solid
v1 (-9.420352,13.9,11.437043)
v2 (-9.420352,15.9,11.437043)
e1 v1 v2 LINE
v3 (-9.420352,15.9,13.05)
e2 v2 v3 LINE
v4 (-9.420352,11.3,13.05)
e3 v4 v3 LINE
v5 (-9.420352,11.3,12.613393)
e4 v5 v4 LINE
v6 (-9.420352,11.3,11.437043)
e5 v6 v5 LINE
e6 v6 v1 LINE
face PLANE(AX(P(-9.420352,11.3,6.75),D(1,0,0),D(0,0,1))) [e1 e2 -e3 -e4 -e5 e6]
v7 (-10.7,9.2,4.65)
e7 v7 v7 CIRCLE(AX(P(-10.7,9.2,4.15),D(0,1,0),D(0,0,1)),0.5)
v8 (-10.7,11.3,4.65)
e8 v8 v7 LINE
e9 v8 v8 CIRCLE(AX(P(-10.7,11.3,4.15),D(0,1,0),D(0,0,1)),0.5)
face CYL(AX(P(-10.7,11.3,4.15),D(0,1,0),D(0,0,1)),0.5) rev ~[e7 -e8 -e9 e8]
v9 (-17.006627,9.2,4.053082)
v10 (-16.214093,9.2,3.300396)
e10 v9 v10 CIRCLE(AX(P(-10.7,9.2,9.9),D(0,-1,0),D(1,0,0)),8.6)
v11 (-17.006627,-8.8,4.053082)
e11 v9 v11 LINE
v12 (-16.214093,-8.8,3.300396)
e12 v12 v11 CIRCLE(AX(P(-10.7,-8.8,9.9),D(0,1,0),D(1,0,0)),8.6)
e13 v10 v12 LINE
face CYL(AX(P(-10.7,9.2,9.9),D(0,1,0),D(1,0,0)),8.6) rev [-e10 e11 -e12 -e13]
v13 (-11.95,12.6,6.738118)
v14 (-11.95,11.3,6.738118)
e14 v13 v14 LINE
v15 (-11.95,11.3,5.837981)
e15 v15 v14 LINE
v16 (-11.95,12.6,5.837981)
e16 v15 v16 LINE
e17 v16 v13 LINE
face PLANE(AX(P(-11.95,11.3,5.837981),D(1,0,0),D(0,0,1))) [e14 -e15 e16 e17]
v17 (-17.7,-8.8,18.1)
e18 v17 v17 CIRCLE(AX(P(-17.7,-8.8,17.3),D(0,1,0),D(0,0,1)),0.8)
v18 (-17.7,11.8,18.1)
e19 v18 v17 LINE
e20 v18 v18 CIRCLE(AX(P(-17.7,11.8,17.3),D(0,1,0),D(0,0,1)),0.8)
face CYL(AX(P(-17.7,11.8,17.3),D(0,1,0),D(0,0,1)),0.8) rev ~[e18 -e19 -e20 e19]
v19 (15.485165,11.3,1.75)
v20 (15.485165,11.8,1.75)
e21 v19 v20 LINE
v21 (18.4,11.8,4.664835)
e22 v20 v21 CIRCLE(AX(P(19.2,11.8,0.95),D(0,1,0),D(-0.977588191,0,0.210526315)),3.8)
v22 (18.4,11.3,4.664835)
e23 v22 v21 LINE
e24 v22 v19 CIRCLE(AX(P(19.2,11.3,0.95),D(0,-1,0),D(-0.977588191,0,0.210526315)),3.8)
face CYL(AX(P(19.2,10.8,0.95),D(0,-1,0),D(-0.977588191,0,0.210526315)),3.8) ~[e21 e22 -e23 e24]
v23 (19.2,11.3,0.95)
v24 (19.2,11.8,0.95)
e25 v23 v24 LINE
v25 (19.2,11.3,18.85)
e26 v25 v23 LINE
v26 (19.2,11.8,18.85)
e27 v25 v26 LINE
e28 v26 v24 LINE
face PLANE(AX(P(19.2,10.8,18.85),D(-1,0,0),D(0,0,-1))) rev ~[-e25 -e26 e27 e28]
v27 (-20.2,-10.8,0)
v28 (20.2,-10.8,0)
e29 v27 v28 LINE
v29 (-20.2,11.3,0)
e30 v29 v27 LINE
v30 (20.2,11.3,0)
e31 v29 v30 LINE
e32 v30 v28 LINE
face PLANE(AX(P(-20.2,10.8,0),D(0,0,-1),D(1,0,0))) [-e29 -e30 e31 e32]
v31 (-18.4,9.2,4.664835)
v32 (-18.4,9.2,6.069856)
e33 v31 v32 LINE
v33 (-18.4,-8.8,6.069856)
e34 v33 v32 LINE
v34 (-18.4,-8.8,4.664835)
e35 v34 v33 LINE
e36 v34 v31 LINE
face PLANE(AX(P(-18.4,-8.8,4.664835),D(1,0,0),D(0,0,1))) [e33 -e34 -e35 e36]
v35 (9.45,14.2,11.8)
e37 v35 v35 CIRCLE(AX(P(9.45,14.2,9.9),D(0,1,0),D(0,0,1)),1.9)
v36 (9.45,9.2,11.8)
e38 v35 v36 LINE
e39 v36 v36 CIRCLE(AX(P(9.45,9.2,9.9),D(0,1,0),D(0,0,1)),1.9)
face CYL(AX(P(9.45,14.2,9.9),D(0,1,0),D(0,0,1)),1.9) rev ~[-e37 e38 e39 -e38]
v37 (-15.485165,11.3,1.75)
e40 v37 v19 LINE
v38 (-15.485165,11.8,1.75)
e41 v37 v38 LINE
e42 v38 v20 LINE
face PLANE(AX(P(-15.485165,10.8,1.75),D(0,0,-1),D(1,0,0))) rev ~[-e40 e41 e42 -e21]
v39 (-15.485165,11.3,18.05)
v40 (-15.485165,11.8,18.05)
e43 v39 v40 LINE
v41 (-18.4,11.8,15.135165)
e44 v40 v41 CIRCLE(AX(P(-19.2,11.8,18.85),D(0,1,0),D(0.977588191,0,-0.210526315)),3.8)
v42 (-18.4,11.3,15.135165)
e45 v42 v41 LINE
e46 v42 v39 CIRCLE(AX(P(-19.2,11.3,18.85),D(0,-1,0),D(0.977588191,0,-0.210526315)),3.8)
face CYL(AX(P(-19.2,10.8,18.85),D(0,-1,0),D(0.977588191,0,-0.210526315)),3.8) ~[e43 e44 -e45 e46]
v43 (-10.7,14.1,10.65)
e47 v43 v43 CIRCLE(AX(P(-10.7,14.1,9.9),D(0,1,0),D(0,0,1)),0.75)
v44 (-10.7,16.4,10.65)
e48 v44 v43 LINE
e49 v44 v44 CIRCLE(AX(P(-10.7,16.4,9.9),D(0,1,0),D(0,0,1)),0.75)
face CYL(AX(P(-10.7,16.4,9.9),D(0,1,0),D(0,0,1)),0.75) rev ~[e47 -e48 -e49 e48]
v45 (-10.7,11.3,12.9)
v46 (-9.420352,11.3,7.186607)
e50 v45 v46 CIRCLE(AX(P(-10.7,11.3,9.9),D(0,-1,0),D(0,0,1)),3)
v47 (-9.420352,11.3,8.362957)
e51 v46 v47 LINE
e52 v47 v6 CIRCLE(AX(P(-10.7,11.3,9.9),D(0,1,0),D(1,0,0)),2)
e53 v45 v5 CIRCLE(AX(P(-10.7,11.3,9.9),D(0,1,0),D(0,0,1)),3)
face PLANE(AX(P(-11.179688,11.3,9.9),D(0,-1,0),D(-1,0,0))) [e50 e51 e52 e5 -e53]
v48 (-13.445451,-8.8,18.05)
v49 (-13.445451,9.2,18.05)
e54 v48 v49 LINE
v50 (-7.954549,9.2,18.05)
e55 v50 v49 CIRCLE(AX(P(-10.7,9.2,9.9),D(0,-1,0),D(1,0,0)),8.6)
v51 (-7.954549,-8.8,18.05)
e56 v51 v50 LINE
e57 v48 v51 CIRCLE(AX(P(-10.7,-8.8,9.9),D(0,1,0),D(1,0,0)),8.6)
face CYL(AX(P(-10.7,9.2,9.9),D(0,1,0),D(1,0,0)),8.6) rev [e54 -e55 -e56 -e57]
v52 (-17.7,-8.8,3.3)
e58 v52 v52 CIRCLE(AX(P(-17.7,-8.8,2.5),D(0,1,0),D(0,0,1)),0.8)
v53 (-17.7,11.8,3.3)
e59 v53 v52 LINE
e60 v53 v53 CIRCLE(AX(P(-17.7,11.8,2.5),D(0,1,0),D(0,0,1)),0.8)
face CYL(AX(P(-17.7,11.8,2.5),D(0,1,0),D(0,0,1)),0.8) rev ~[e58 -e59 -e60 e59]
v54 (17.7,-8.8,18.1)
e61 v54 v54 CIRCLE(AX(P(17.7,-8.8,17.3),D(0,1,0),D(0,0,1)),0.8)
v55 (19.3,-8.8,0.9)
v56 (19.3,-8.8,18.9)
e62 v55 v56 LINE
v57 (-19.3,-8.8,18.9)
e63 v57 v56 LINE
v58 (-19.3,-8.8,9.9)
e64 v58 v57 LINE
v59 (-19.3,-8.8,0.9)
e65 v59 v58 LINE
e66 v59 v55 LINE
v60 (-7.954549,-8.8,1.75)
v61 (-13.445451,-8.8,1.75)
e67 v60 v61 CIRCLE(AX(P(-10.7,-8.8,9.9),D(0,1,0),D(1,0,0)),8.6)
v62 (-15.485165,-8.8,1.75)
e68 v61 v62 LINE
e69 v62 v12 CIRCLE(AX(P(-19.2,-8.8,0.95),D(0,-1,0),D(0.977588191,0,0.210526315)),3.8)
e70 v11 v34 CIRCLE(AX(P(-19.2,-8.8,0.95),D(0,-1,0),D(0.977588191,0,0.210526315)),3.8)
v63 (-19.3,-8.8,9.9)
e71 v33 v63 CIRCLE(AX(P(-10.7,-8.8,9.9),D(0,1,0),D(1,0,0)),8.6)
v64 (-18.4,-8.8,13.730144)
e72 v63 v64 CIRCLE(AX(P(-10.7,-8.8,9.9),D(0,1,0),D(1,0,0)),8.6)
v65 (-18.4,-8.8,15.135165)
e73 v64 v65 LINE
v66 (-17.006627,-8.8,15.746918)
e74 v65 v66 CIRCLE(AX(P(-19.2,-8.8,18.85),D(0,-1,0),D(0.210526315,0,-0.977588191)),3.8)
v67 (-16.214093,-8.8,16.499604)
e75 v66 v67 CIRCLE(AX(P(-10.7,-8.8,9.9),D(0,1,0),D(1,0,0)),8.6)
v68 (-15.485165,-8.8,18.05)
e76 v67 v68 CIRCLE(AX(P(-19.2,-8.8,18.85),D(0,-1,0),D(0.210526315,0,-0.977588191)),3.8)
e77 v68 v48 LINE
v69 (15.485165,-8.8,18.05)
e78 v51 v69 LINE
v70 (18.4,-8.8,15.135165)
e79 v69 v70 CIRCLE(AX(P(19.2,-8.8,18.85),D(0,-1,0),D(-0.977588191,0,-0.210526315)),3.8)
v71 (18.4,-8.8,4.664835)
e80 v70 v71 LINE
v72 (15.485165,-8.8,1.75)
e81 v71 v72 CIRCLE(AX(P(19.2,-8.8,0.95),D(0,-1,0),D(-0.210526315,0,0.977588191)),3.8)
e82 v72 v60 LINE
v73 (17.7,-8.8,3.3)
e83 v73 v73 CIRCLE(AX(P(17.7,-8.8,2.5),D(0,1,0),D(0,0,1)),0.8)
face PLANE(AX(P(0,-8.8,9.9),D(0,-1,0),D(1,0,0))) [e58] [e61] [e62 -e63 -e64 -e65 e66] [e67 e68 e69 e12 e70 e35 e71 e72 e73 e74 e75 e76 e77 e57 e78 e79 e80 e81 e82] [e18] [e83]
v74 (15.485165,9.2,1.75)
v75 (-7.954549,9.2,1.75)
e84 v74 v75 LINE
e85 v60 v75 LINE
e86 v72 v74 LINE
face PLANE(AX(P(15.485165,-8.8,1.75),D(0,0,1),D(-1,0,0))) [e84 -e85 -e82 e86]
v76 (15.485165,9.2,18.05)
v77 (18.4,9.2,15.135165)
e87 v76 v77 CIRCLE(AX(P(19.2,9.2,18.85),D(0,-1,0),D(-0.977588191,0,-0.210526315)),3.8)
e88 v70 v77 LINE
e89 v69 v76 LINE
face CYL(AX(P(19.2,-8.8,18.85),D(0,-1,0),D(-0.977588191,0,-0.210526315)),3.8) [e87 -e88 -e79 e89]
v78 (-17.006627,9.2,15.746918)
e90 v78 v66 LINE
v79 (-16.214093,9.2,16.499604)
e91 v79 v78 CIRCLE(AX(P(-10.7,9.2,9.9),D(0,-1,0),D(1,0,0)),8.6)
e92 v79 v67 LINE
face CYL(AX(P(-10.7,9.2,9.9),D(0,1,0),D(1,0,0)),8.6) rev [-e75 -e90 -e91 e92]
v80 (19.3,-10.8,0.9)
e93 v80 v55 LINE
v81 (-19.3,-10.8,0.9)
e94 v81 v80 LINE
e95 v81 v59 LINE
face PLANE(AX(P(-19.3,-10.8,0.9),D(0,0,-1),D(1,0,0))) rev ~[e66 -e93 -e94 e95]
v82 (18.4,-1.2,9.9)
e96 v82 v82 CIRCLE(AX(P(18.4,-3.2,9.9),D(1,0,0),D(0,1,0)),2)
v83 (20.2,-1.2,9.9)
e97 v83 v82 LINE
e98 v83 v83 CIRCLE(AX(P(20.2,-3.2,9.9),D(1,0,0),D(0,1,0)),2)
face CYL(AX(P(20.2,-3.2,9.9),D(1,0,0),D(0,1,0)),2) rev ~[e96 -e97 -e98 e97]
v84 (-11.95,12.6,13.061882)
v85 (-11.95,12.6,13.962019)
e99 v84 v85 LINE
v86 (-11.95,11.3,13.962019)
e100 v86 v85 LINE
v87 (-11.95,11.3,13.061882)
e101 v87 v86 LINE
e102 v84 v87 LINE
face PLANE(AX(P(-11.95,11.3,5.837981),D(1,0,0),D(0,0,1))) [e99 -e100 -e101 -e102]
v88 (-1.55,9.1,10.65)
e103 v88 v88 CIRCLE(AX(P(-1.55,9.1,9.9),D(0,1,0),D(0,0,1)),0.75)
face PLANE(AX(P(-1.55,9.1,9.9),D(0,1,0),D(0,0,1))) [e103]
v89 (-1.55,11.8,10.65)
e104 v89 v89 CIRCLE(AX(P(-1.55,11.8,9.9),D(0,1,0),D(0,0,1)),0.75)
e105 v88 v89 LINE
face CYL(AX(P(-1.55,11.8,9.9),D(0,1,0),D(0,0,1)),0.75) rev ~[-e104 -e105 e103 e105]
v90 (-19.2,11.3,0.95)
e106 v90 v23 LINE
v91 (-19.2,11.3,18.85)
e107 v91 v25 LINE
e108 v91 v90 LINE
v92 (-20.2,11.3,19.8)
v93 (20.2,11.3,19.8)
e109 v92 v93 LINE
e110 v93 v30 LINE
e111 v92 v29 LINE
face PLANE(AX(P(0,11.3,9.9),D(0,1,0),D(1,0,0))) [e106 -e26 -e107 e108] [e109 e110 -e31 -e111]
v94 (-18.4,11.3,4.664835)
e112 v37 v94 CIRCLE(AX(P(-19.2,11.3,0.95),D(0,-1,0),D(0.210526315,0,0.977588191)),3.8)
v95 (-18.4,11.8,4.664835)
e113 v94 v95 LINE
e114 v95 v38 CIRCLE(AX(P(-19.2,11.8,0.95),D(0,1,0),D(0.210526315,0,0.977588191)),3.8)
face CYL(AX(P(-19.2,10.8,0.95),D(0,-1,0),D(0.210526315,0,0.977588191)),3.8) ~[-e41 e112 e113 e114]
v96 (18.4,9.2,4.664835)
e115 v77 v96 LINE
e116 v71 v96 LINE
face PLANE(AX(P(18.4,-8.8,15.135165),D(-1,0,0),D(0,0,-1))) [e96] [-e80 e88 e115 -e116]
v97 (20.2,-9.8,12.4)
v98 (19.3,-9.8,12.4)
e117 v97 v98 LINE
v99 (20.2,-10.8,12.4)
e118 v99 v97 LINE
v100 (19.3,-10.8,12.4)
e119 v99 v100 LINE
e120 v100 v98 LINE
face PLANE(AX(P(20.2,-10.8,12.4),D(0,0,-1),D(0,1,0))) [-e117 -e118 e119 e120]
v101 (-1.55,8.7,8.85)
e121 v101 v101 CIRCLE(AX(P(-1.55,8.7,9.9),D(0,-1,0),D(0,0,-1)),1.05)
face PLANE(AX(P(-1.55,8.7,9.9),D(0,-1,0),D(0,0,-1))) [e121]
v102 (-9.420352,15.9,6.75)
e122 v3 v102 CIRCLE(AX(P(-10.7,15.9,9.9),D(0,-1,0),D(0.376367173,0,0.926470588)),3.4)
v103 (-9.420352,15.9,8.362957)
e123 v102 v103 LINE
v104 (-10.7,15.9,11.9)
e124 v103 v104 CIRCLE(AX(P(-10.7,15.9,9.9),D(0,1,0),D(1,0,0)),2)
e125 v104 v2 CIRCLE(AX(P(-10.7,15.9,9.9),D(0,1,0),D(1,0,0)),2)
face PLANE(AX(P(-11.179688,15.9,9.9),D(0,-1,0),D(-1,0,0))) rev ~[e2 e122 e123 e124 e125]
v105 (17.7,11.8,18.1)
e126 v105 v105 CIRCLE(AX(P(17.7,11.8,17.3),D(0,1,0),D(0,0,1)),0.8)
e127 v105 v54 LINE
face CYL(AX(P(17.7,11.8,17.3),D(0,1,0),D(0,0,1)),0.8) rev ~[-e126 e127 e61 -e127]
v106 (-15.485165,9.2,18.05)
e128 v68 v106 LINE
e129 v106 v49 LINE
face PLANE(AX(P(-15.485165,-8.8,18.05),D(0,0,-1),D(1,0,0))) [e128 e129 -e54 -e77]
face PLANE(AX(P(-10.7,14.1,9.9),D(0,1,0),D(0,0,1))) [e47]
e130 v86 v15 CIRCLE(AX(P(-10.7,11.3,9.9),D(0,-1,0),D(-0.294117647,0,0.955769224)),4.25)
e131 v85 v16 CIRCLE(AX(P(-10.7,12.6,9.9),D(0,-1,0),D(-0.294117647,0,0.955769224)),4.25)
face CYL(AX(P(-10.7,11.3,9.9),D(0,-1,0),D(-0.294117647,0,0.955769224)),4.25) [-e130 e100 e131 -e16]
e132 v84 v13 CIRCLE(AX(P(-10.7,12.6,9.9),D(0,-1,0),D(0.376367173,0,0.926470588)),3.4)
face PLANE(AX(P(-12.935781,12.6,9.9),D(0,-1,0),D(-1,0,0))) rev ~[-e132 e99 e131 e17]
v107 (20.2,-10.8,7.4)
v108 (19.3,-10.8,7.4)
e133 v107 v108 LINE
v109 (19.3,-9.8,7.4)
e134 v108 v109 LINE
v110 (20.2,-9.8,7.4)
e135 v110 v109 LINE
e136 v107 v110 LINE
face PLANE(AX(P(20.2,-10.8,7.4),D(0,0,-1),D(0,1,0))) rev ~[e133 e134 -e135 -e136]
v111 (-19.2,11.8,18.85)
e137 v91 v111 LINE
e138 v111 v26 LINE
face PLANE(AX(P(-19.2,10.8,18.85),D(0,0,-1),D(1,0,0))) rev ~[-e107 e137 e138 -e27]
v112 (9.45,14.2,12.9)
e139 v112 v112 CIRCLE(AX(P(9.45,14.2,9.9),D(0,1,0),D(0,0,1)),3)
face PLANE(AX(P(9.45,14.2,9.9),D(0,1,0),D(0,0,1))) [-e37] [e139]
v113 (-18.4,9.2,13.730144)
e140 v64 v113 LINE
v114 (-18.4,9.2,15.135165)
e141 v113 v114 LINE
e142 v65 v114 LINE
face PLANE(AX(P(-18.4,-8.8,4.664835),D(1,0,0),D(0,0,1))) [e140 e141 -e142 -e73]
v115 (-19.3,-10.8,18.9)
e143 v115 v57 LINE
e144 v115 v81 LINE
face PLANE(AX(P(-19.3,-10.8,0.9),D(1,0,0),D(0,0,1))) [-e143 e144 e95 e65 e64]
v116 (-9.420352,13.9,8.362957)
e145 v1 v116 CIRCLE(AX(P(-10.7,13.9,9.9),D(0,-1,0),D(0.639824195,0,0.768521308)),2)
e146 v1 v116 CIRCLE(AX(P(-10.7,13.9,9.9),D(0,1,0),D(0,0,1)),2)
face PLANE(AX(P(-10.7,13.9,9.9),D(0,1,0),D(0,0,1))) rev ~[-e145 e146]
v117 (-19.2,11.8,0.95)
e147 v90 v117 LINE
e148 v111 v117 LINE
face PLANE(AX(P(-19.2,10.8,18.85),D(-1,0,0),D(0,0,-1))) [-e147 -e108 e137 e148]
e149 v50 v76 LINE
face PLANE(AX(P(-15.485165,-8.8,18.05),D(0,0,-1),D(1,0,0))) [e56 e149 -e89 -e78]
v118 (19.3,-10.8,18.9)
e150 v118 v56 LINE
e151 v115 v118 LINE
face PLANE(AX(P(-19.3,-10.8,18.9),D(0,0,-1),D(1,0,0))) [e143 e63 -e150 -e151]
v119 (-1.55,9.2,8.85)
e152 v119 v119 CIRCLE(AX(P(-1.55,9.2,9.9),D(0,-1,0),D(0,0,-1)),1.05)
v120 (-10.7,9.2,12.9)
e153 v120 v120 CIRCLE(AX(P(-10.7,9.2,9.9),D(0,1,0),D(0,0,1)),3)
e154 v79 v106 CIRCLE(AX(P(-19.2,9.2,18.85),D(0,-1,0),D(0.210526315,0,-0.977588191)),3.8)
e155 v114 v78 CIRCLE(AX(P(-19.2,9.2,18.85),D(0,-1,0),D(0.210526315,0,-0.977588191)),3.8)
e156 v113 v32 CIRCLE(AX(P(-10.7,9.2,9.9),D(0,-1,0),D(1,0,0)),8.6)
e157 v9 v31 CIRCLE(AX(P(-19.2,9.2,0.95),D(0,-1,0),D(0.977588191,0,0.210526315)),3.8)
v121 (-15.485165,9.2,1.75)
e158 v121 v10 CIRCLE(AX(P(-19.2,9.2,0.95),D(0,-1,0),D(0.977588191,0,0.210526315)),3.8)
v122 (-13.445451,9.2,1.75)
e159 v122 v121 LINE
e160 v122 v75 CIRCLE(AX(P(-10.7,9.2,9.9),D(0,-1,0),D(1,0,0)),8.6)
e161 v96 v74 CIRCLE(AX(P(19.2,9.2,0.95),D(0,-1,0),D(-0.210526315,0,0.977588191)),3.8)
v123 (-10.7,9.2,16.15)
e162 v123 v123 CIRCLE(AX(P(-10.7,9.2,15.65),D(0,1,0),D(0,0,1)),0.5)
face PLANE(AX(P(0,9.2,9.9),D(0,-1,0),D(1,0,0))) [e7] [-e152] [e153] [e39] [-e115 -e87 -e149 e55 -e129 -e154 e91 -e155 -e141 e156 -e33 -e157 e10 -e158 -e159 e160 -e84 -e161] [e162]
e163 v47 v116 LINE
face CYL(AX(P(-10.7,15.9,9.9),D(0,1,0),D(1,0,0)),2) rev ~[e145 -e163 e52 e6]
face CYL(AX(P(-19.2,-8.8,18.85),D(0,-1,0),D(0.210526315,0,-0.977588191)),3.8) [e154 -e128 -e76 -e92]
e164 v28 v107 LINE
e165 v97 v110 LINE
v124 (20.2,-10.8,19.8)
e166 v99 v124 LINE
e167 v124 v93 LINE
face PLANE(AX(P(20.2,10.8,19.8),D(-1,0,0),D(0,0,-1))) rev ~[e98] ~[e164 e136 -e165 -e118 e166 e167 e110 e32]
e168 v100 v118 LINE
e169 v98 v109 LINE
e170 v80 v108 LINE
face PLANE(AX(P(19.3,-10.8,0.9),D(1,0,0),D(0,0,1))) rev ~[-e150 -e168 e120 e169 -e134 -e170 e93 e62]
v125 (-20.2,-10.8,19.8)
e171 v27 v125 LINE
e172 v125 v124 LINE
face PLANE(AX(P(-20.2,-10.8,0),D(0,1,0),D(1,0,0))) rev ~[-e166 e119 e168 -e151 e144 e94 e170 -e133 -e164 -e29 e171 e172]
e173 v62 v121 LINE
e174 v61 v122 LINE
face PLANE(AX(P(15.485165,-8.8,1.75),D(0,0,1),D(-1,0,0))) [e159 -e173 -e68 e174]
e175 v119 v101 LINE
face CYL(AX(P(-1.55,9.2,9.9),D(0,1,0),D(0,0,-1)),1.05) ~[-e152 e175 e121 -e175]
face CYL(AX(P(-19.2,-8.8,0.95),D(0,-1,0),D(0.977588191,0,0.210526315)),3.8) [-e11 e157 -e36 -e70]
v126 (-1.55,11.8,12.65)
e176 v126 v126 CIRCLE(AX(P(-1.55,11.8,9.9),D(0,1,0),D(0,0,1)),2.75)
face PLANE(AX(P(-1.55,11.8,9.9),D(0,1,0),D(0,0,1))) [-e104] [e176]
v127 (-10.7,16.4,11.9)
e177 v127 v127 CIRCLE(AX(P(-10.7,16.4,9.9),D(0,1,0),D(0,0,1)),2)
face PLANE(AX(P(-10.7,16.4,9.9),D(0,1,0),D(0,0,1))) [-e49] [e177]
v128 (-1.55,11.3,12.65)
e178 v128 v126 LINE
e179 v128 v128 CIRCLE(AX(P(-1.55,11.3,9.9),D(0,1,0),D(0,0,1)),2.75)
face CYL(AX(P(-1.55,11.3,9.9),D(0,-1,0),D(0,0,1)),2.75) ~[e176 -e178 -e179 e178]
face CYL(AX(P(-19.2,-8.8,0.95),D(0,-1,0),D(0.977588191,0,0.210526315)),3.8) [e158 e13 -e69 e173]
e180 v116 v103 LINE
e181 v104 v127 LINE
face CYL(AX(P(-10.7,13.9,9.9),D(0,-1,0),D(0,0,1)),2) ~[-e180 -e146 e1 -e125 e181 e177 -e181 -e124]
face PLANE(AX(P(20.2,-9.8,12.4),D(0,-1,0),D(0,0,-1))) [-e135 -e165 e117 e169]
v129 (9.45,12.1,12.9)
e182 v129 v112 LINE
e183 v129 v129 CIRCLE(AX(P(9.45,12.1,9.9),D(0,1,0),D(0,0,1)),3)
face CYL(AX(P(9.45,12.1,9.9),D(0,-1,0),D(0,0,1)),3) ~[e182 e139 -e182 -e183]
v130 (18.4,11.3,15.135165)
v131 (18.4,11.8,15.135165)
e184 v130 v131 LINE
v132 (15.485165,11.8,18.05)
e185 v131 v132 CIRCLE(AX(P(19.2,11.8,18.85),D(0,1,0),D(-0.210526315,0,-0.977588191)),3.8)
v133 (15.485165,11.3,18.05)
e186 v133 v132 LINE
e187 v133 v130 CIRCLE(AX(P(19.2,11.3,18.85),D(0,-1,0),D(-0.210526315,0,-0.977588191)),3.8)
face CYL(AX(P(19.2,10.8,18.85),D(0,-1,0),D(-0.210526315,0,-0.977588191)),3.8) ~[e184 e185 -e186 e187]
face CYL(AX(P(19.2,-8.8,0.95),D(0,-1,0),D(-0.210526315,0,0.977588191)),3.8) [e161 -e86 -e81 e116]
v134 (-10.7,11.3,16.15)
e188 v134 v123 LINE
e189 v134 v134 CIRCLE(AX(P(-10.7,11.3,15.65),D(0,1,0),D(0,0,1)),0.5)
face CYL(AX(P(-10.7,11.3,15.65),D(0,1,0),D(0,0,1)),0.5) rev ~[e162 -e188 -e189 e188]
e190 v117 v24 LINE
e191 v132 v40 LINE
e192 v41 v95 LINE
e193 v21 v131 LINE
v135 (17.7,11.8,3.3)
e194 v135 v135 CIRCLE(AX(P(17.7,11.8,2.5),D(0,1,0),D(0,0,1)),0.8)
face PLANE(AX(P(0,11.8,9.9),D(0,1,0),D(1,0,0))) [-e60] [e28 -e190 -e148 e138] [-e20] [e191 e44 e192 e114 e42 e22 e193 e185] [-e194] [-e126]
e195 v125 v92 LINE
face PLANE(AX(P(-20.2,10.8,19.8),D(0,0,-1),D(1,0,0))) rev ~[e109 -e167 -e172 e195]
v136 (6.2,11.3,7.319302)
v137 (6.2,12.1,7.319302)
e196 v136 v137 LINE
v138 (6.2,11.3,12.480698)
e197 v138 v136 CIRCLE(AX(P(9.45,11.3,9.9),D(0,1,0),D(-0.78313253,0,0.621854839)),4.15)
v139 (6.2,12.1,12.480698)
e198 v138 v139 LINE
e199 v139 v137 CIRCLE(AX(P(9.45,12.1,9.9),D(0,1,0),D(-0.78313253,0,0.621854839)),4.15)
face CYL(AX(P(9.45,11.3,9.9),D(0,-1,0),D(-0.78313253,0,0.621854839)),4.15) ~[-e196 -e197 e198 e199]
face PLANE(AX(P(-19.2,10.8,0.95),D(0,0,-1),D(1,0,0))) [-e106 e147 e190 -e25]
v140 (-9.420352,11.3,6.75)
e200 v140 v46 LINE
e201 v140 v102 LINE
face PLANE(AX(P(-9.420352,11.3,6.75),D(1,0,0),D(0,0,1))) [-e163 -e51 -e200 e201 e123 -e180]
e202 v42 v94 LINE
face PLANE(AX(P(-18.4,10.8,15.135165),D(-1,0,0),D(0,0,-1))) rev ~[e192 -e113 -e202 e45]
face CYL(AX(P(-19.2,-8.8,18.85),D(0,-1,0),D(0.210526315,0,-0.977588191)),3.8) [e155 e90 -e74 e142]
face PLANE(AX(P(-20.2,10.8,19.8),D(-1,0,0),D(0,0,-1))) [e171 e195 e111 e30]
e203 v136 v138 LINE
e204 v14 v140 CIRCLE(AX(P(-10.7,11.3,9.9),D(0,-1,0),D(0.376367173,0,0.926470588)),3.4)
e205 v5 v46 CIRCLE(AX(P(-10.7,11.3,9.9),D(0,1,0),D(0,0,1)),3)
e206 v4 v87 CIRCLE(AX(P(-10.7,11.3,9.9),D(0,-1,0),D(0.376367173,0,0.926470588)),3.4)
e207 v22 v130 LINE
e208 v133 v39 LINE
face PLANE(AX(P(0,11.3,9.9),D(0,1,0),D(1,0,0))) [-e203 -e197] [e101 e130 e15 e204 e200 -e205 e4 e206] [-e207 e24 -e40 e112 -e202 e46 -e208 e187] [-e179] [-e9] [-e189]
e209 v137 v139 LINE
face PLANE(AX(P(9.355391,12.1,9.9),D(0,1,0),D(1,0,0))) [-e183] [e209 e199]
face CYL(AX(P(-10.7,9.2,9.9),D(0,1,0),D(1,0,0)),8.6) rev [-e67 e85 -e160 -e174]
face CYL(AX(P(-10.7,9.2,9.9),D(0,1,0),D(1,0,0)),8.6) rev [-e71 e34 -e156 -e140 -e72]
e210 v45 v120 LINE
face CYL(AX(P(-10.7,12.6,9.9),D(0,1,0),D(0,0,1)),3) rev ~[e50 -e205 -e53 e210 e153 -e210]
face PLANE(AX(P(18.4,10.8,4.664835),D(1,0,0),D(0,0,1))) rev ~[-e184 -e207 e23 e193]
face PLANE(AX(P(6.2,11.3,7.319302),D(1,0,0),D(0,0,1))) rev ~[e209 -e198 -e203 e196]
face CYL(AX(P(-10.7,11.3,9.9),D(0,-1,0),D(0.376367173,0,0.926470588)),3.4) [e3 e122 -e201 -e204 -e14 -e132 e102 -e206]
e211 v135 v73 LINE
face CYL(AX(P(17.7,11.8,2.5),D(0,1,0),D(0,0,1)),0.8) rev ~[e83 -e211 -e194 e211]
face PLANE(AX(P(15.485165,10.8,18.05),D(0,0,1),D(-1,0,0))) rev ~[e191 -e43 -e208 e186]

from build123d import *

# Parameters (mm, degrees)
SKETCH_1_W            = 40.4
SKETCH_1_H            = 21.6
EXTRUDE_1_DEPTH       = 19.8
SKETCH_3_W            = 38.4
SKETCH_3_H            = 17.9
EXTRUDE_2_DEPTH       = 1
SKETCH_4_W            = 40.4
SKETCH_4_H            = 19.8
EXTRUDE_3_DEPTH       = 0.5
SKETCH_5_R            = 2.75
EXTRUDE_4_DEPTH       = 0.5
EXTRUDE_5_DEPTH       = 0.8
SKETCH_7_R            = 3
EXTRUDE_6_DEPTH       = 2.1
SKETCH_8_R            = 1.9
CUT_EXTRUDE_7_DEPTH   = 38.750231787
SKETCH_10_R           = 0.75
CUT_EXTRUDE_10_DEPTH  = 2.7
EXTRUDE_11_DEPTH      = 1.3
SKETCH_13_R           = 3
CUT_EXTRUDE_13_DEPTH  = 37.710216562
EXTRUDE_START         = -1.3
EXTRUDE_14_DEPTH      = 4.6
SKETCH_14_R           = 2
CUT_EXTRUDE_15_DEPTH  = 39.896915045
EXTRUDE_16_DEPTH      = 0.5
EXTRUDE_16_DEPTH_BACK = 2
SKETCH_15_R           = 2
SKETCH_16_R           = 0.75
CUT_EXTRUDE_17_DEPTH  = 2.3
SKETCH_17_W           = 38.6
SKETCH_17_H           = 18
CUT_EXTRUDE_18_DEPTH  = 20
EXTRUDE_START_2       = 18
SKETCH_18_W           = 38.6
SKETCH_18_H           = 18
EXTRUDE_19_DEPTH      = 18
SKETCH_19_R           = 0.8
CUT_EXTRUDE_20_DEPTH  = 27.4
SKETCH_20_R           = 8.6
CUT_EXTRUDE_21_DEPTH  = 27.4
SKETCH_21_R           = 1.05
EXTRUDE_22_DEPTH      = 0.5
SKETCH_22_R           = 0.75
CUT_EXTRUDE_23_DEPTH  = 0.1
CUT_EXTRUDE_24_REACH  = 37.896
SKETCH_23_R           = 0.5
CUT_EXTRUDE_27_REACH  = 49.887
SKETCH_25_R           = 2
SKETCH_25_W           = 5
SKETCH_25_H           = 1


with BuildPart() as part:
    # 草圖1 → 伸長1 (new body)
    with BuildSketch(Plane.XY):
        Rectangle(SKETCH_1_W, SKETCH_1_H)
    extrude(amount=EXTRUDE_1_DEPTH)

    # 草圖3 → 伸長2 (add)
    with BuildSketch(Plane(origin=(0, 10.8, 0), x_dir=(1, 0, 0), z_dir=(0, 1, 0))):
        with Locations((0, -9.9)):
            Rectangle(SKETCH_3_W, SKETCH_3_H)
        with BuildLine():
            Line((-15.485164876, -1.75), (15.485164876, -1.75))
            ThreePointArc((15.485164876, -1.75), (16.512994231, -3.637005769), (18.4, -4.664835124))
            Line((18.4, -4.664835124), (18.4, -15.135164876))
            ThreePointArc((18.4, -15.135164876), (16.512994231, -16.162994231), (15.485164876, -18.05))
            Line((15.485164876, -18.05), (-15.485164876, -18.05))
            ThreePointArc((-15.485164876, -18.05), (-16.512994231, -16.162994231), (-18.4, -15.135164876))
            Line((-18.4, -15.135164876), (-18.4, -4.664835124))
            ThreePointArc((-18.4, -4.664835124), (-16.512994231, -3.637005769), (-15.485164876, -1.75))
        make_face(mode=Mode.SUBTRACT)
    extrude(amount=EXTRUDE_2_DEPTH)

    # 草圖4 → 伸長3 (add)
    with BuildSketch(Plane(origin=(0, 10.8, 0), x_dir=(1, 0, 0), z_dir=(0, 1, 0))):
        with Locations((0, -9.9)):
            Rectangle(SKETCH_4_W, SKETCH_4_H)
    extrude(amount=EXTRUDE_3_DEPTH)

    # 草圖5 → 伸長4 (add)
    with BuildSketch(Plane(origin=(0, 11.3, 0), x_dir=(1, 0, 0), z_dir=(0, 1, 0))):
        with Locations(Location((-1.55, -9.9, 0), (0, 0, 270))):
            Circle(SKETCH_5_R)
    extrude(amount=EXTRUDE_4_DEPTH)

    # 草圖6 → 伸長5 (add)
    with BuildSketch(Plane(origin=(0, 11.3, 0), x_dir=(1, 0, 0), z_dir=(0, 1, 0))):
        with BuildLine():
            Line((6.2, -7.31930242), (6.2, -12.48069758))
            ThreePointArc((6.2, -12.48069758), (13.6, -9.9), (6.2, -7.31930242))
        make_face()
    extrude(amount=EXTRUDE_5_DEPTH)

    # 草圖7 → 伸長6 (add)
    with BuildSketch(Plane(origin=(0, 12.1, 0), x_dir=(1, 0, 0), z_dir=(0, 1, 0))):
        with Locations(Location((9.45, -9.9, 0), (0, 0, 270))):
            Circle(SKETCH_7_R)
    extrude(amount=EXTRUDE_6_DEPTH)

    # 草圖8 → 伸長7 (cut, through all)
    with BuildSketch(Plane(origin=(0, 14.2, 0), x_dir=(1, 0, 0), z_dir=(0, 1, 0))):
        with Locations(Location((9.45, -9.9, 0), (0, 0, 270))):
            Circle(SKETCH_8_R)
    extrude(amount=-CUT_EXTRUDE_7_DEPTH, mode=Mode.SUBTRACT)

    # 草圖10 → 伸長10 (cut)
    with BuildSketch(Plane(origin=(0, 11.8, 0), x_dir=(1, 0, 0), z_dir=(0, 1, 0))):
        with Locations(Location((-1.55, -9.9, 0), (0, 0, 270))):
            Circle(SKETCH_10_R)
    extrude(amount=-CUT_EXTRUDE_10_DEPTH, mode=Mode.SUBTRACT)

    # 草圖11 → 伸長11 (add)
    with BuildSketch(Plane(origin=(0, 11.3, 0), x_dir=(1, 0, 0), z_dir=(0, 1, 0))):
        with BuildLine():
            Line((-11.95, -5.837980798), (-11.95, -13.962019202))
            ThreePointArc((-11.95, -13.962019202), (-14.95, -9.9), (-11.95, -5.837980798))
        make_face()
    extrude(amount=EXTRUDE_11_DEPTH)

    # 草圖13 → 伸長13 (cut, through all)
    with BuildSketch(Plane(origin=(0, 12.6, 0), x_dir=(1, 0, 0), z_dir=(0, 1, 0))):
        with Locations(Location((-10.7, -9.9, 0), (0, 0, 270))):
            Circle(SKETCH_13_R)
    extrude(amount=-CUT_EXTRUDE_13_DEPTH, mode=Mode.SUBTRACT)

    # 草圖12 → 伸長14 (add)
    with BuildSketch(Plane(origin=(0, 12.6, 0), x_dir=(1, 0, 0), z_dir=(0, 1, 0)).offset(EXTRUDE_START)):
        with BuildLine():
            Line((-9.420351611, -6.75), (-9.420351611, -13.05))
            ThreePointArc((-9.420351611, -13.05), (-14.1, -9.9), (-9.420351611, -6.75))
        make_face()
    extrude(amount=EXTRUDE_14_DEPTH)

    # 草圖14 → 伸長15 (cut, through all)
    with BuildSketch(Plane(origin=(0, 15.9, 0), x_dir=(1, 0, 0), z_dir=(0, 1, 0))):
        with Locations((-10.7, -9.9)):
            Circle(SKETCH_14_R)
    extrude(amount=-CUT_EXTRUDE_15_DEPTH, mode=Mode.SUBTRACT)

    # 草圖15 → 伸長16 (add, two sides: drawn at the far end of the back side and taken through both)
    with BuildSketch(Plane(origin=(0, 15.9, 0), x_dir=(1, 0, 0), z_dir=(0, 1, 0)).offset(-EXTRUDE_16_DEPTH_BACK)):
        with Locations(Location((-10.7, -9.9, 0), (0, 0, 270))):
            Circle(SKETCH_15_R)
    extrude(amount=EXTRUDE_16_DEPTH + EXTRUDE_16_DEPTH_BACK)

    # 草圖16 → 伸長17 (cut)
    with BuildSketch(Plane(origin=(0, 16.4, 0), x_dir=(1, 0, 0), z_dir=(0, 1, 0))):
        with Locations(Location((-10.7, -9.9, 0), (0, 0, 270))):
            Circle(SKETCH_16_R)
    extrude(amount=-CUT_EXTRUDE_17_DEPTH, mode=Mode.SUBTRACT)

    # 草圖17 → 伸長18 (cut)
    with BuildSketch(Plane.XZ.offset(10.8)):
        with Locations((0, 9.9)):
            Rectangle(SKETCH_17_W, SKETCH_17_H)
    extrude(amount=-CUT_EXTRUDE_18_DEPTH, mode=Mode.SUBTRACT)

    # 草圖18 → 伸長19 (add)
    with BuildSketch(Plane.XZ.offset(-9.2).offset(EXTRUDE_START_2)):
        with Locations((0, 9.9)):
            Rectangle(SKETCH_18_W, SKETCH_18_H)
        with BuildLine():
            Line((15.485164876, 1.75), (-15.485164876, 1.75))
            ThreePointArc((-15.485164876, 1.75), (-16.512994231, 3.637005769), (-18.4, 4.664835124))
            Line((-18.4, 4.664835124), (-18.4, 15.135164876))
            ThreePointArc((-18.4, 15.135164876), (-16.512994231, 16.162994231), (-15.485164876, 18.05))
            Line((-15.485164876, 18.05), (15.485164876, 18.05))
            ThreePointArc((15.485164876, 18.05), (16.512994231, 16.162994231), (18.4, 15.135164876))
            Line((18.4, 15.135164876), (18.4, 4.664835124))
            ThreePointArc((18.4, 4.664835124), (16.512994231, 3.637005769), (15.485164876, 1.75))
        make_face(mode=Mode.SUBTRACT)
    extrude(amount=-EXTRUDE_19_DEPTH)

    # 草圖19 → 伸長20 (cut)
    with BuildSketch(Plane(origin=(0, 11.8, 0), x_dir=(1, 0, 0), z_dir=(0, 1, 0))):
        with Locations(Location((-17.7, -2.5, 0), (0, 0, 270))):
            Circle(SKETCH_19_R)
        with Locations(Location((17.7, -2.5, 0), (0, 0, 270))):
            Circle(SKETCH_19_R)
        with Locations(Location((17.7, -17.3, 0), (0, 0, 270))):
            Circle(SKETCH_19_R)
        with Locations(Location((-17.7, -17.3, 0), (0, 0, 270))):
            Circle(SKETCH_19_R)
    extrude(amount=-CUT_EXTRUDE_20_DEPTH, mode=Mode.SUBTRACT)

    # 草圖20 → 伸長21 (cut)
    with BuildSketch(Plane.XZ.offset(-9.2)):
        with Locations((-10.7, 9.9)):
            Circle(SKETCH_20_R)
    extrude(amount=CUT_EXTRUDE_21_DEPTH, mode=Mode.SUBTRACT)

    # 草圖21 → 伸長22 (add)
    with BuildSketch(Plane.XZ.offset(-9.2)):
        with Locations(Location((-1.55, 9.9, 0), (0, 0, 270))):
            Circle(SKETCH_21_R)
    extrude(amount=EXTRUDE_22_DEPTH)

    # 草圖22 → 伸長23 (cut)
    with BuildSketch(Plane(origin=(0, 9.2, 0), x_dir=(1, 0, 0), z_dir=(0, 1, 0))):
        with Locations(Location((-1.55, -9.9, 0), (0, 0, 270))):
            Circle(SKETCH_22_R)
    extrude(amount=-CUT_EXTRUDE_23_DEPTH, mode=Mode.SUBTRACT)

    # 草圖23 → 伸長24 (cut, up to next)
    with BuildSketch(Plane(origin=(0, 11.3, 0), x_dir=(1, 0, 0), z_dir=(0, 1, 0)), mode=Mode.PRIVATE) as cut_extrude_24_sk1:
        with Locations(Location((-10.7, -4.15, 0), (0, 0, 270))):
            Circle(SKETCH_23_R)
    cut_extrude_24_tool1 = extrude(cut_extrude_24_sk1.sketch, amount=-CUT_EXTRUDE_24_REACH, mode=Mode.PRIVATE) & part.part
    # 草圖23 → 伸長24 (cut, up to next)
    with BuildSketch(Plane(origin=(0, 11.3, 0), x_dir=(1, 0, 0), z_dir=(0, 1, 0)), mode=Mode.PRIVATE) as cut_extrude_24_sk2:
        with Locations(Location((-10.7, -15.65, 0), (0, 0, 270))):
            Circle(SKETCH_23_R)
    cut_extrude_24_tool2 = extrude(cut_extrude_24_sk2.sketch, amount=-CUT_EXTRUDE_24_REACH, mode=Mode.PRIVATE) & part.part
    add(cut_extrude_24_tool1.solids().sort_by_distance((-10.7, 11.3, 4.15))[0], mode=Mode.SUBTRACT)
    add(cut_extrude_24_tool2.solids().sort_by_distance((-10.7, 11.3, 15.65))[0], mode=Mode.SUBTRACT)

    # 伸長27: up to this face of the body (flat: up to its plane)
    cut_extrude_27_end = Plane(part.part.faces().sort_by_distance((18.4, 0.2, 9.9))[0])
    # 草圖25 → 伸長27 (cut, up to the picked face)
    with BuildSketch(Plane(origin=(20.2, 0, 0), x_dir=(0, 0, -1), z_dir=(1, 0, 0)), mode=Mode.PRIVATE) as cut_extrude_27_sk1:
        with Locations(Location((-9.9, -3.2, 0), (0, 0, 90))):
            Circle(SKETCH_25_R)
    cut_extrude_27_tool1 = split(extrude(cut_extrude_27_sk1.sketch, amount=-CUT_EXTRUDE_27_REACH, mode=Mode.PRIVATE), bisect_by=cut_extrude_27_end, keep=Keep.BOTH, mode=Mode.PRIVATE)
    # 草圖25 → 伸長27 (cut, up to the picked face)
    with BuildSketch(Plane(origin=(20.2, 0, 0), x_dir=(0, 0, -1), z_dir=(1, 0, 0)), mode=Mode.PRIVATE) as cut_extrude_27_sk2:
        with Locations((-9.9, -10.3)):
            Rectangle(SKETCH_25_W, SKETCH_25_H)
    cut_extrude_27_tool2 = split(extrude(cut_extrude_27_sk2.sketch, amount=-CUT_EXTRUDE_27_REACH, mode=Mode.PRIVATE), bisect_by=cut_extrude_27_end, keep=Keep.BOTH, mode=Mode.PRIVATE)
    add(cut_extrude_27_tool1.solids().sort_by(Axis((20.2, -3.2, 9.9), (-1, 0, 0)))[0], mode=Mode.SUBTRACT)
    add(cut_extrude_27_tool2.solids().sort_by(Axis((20.2, -10.3, 9.9), (-1, 0, 0)))[0], mode=Mode.SUBTRACT)


solid = part.part
